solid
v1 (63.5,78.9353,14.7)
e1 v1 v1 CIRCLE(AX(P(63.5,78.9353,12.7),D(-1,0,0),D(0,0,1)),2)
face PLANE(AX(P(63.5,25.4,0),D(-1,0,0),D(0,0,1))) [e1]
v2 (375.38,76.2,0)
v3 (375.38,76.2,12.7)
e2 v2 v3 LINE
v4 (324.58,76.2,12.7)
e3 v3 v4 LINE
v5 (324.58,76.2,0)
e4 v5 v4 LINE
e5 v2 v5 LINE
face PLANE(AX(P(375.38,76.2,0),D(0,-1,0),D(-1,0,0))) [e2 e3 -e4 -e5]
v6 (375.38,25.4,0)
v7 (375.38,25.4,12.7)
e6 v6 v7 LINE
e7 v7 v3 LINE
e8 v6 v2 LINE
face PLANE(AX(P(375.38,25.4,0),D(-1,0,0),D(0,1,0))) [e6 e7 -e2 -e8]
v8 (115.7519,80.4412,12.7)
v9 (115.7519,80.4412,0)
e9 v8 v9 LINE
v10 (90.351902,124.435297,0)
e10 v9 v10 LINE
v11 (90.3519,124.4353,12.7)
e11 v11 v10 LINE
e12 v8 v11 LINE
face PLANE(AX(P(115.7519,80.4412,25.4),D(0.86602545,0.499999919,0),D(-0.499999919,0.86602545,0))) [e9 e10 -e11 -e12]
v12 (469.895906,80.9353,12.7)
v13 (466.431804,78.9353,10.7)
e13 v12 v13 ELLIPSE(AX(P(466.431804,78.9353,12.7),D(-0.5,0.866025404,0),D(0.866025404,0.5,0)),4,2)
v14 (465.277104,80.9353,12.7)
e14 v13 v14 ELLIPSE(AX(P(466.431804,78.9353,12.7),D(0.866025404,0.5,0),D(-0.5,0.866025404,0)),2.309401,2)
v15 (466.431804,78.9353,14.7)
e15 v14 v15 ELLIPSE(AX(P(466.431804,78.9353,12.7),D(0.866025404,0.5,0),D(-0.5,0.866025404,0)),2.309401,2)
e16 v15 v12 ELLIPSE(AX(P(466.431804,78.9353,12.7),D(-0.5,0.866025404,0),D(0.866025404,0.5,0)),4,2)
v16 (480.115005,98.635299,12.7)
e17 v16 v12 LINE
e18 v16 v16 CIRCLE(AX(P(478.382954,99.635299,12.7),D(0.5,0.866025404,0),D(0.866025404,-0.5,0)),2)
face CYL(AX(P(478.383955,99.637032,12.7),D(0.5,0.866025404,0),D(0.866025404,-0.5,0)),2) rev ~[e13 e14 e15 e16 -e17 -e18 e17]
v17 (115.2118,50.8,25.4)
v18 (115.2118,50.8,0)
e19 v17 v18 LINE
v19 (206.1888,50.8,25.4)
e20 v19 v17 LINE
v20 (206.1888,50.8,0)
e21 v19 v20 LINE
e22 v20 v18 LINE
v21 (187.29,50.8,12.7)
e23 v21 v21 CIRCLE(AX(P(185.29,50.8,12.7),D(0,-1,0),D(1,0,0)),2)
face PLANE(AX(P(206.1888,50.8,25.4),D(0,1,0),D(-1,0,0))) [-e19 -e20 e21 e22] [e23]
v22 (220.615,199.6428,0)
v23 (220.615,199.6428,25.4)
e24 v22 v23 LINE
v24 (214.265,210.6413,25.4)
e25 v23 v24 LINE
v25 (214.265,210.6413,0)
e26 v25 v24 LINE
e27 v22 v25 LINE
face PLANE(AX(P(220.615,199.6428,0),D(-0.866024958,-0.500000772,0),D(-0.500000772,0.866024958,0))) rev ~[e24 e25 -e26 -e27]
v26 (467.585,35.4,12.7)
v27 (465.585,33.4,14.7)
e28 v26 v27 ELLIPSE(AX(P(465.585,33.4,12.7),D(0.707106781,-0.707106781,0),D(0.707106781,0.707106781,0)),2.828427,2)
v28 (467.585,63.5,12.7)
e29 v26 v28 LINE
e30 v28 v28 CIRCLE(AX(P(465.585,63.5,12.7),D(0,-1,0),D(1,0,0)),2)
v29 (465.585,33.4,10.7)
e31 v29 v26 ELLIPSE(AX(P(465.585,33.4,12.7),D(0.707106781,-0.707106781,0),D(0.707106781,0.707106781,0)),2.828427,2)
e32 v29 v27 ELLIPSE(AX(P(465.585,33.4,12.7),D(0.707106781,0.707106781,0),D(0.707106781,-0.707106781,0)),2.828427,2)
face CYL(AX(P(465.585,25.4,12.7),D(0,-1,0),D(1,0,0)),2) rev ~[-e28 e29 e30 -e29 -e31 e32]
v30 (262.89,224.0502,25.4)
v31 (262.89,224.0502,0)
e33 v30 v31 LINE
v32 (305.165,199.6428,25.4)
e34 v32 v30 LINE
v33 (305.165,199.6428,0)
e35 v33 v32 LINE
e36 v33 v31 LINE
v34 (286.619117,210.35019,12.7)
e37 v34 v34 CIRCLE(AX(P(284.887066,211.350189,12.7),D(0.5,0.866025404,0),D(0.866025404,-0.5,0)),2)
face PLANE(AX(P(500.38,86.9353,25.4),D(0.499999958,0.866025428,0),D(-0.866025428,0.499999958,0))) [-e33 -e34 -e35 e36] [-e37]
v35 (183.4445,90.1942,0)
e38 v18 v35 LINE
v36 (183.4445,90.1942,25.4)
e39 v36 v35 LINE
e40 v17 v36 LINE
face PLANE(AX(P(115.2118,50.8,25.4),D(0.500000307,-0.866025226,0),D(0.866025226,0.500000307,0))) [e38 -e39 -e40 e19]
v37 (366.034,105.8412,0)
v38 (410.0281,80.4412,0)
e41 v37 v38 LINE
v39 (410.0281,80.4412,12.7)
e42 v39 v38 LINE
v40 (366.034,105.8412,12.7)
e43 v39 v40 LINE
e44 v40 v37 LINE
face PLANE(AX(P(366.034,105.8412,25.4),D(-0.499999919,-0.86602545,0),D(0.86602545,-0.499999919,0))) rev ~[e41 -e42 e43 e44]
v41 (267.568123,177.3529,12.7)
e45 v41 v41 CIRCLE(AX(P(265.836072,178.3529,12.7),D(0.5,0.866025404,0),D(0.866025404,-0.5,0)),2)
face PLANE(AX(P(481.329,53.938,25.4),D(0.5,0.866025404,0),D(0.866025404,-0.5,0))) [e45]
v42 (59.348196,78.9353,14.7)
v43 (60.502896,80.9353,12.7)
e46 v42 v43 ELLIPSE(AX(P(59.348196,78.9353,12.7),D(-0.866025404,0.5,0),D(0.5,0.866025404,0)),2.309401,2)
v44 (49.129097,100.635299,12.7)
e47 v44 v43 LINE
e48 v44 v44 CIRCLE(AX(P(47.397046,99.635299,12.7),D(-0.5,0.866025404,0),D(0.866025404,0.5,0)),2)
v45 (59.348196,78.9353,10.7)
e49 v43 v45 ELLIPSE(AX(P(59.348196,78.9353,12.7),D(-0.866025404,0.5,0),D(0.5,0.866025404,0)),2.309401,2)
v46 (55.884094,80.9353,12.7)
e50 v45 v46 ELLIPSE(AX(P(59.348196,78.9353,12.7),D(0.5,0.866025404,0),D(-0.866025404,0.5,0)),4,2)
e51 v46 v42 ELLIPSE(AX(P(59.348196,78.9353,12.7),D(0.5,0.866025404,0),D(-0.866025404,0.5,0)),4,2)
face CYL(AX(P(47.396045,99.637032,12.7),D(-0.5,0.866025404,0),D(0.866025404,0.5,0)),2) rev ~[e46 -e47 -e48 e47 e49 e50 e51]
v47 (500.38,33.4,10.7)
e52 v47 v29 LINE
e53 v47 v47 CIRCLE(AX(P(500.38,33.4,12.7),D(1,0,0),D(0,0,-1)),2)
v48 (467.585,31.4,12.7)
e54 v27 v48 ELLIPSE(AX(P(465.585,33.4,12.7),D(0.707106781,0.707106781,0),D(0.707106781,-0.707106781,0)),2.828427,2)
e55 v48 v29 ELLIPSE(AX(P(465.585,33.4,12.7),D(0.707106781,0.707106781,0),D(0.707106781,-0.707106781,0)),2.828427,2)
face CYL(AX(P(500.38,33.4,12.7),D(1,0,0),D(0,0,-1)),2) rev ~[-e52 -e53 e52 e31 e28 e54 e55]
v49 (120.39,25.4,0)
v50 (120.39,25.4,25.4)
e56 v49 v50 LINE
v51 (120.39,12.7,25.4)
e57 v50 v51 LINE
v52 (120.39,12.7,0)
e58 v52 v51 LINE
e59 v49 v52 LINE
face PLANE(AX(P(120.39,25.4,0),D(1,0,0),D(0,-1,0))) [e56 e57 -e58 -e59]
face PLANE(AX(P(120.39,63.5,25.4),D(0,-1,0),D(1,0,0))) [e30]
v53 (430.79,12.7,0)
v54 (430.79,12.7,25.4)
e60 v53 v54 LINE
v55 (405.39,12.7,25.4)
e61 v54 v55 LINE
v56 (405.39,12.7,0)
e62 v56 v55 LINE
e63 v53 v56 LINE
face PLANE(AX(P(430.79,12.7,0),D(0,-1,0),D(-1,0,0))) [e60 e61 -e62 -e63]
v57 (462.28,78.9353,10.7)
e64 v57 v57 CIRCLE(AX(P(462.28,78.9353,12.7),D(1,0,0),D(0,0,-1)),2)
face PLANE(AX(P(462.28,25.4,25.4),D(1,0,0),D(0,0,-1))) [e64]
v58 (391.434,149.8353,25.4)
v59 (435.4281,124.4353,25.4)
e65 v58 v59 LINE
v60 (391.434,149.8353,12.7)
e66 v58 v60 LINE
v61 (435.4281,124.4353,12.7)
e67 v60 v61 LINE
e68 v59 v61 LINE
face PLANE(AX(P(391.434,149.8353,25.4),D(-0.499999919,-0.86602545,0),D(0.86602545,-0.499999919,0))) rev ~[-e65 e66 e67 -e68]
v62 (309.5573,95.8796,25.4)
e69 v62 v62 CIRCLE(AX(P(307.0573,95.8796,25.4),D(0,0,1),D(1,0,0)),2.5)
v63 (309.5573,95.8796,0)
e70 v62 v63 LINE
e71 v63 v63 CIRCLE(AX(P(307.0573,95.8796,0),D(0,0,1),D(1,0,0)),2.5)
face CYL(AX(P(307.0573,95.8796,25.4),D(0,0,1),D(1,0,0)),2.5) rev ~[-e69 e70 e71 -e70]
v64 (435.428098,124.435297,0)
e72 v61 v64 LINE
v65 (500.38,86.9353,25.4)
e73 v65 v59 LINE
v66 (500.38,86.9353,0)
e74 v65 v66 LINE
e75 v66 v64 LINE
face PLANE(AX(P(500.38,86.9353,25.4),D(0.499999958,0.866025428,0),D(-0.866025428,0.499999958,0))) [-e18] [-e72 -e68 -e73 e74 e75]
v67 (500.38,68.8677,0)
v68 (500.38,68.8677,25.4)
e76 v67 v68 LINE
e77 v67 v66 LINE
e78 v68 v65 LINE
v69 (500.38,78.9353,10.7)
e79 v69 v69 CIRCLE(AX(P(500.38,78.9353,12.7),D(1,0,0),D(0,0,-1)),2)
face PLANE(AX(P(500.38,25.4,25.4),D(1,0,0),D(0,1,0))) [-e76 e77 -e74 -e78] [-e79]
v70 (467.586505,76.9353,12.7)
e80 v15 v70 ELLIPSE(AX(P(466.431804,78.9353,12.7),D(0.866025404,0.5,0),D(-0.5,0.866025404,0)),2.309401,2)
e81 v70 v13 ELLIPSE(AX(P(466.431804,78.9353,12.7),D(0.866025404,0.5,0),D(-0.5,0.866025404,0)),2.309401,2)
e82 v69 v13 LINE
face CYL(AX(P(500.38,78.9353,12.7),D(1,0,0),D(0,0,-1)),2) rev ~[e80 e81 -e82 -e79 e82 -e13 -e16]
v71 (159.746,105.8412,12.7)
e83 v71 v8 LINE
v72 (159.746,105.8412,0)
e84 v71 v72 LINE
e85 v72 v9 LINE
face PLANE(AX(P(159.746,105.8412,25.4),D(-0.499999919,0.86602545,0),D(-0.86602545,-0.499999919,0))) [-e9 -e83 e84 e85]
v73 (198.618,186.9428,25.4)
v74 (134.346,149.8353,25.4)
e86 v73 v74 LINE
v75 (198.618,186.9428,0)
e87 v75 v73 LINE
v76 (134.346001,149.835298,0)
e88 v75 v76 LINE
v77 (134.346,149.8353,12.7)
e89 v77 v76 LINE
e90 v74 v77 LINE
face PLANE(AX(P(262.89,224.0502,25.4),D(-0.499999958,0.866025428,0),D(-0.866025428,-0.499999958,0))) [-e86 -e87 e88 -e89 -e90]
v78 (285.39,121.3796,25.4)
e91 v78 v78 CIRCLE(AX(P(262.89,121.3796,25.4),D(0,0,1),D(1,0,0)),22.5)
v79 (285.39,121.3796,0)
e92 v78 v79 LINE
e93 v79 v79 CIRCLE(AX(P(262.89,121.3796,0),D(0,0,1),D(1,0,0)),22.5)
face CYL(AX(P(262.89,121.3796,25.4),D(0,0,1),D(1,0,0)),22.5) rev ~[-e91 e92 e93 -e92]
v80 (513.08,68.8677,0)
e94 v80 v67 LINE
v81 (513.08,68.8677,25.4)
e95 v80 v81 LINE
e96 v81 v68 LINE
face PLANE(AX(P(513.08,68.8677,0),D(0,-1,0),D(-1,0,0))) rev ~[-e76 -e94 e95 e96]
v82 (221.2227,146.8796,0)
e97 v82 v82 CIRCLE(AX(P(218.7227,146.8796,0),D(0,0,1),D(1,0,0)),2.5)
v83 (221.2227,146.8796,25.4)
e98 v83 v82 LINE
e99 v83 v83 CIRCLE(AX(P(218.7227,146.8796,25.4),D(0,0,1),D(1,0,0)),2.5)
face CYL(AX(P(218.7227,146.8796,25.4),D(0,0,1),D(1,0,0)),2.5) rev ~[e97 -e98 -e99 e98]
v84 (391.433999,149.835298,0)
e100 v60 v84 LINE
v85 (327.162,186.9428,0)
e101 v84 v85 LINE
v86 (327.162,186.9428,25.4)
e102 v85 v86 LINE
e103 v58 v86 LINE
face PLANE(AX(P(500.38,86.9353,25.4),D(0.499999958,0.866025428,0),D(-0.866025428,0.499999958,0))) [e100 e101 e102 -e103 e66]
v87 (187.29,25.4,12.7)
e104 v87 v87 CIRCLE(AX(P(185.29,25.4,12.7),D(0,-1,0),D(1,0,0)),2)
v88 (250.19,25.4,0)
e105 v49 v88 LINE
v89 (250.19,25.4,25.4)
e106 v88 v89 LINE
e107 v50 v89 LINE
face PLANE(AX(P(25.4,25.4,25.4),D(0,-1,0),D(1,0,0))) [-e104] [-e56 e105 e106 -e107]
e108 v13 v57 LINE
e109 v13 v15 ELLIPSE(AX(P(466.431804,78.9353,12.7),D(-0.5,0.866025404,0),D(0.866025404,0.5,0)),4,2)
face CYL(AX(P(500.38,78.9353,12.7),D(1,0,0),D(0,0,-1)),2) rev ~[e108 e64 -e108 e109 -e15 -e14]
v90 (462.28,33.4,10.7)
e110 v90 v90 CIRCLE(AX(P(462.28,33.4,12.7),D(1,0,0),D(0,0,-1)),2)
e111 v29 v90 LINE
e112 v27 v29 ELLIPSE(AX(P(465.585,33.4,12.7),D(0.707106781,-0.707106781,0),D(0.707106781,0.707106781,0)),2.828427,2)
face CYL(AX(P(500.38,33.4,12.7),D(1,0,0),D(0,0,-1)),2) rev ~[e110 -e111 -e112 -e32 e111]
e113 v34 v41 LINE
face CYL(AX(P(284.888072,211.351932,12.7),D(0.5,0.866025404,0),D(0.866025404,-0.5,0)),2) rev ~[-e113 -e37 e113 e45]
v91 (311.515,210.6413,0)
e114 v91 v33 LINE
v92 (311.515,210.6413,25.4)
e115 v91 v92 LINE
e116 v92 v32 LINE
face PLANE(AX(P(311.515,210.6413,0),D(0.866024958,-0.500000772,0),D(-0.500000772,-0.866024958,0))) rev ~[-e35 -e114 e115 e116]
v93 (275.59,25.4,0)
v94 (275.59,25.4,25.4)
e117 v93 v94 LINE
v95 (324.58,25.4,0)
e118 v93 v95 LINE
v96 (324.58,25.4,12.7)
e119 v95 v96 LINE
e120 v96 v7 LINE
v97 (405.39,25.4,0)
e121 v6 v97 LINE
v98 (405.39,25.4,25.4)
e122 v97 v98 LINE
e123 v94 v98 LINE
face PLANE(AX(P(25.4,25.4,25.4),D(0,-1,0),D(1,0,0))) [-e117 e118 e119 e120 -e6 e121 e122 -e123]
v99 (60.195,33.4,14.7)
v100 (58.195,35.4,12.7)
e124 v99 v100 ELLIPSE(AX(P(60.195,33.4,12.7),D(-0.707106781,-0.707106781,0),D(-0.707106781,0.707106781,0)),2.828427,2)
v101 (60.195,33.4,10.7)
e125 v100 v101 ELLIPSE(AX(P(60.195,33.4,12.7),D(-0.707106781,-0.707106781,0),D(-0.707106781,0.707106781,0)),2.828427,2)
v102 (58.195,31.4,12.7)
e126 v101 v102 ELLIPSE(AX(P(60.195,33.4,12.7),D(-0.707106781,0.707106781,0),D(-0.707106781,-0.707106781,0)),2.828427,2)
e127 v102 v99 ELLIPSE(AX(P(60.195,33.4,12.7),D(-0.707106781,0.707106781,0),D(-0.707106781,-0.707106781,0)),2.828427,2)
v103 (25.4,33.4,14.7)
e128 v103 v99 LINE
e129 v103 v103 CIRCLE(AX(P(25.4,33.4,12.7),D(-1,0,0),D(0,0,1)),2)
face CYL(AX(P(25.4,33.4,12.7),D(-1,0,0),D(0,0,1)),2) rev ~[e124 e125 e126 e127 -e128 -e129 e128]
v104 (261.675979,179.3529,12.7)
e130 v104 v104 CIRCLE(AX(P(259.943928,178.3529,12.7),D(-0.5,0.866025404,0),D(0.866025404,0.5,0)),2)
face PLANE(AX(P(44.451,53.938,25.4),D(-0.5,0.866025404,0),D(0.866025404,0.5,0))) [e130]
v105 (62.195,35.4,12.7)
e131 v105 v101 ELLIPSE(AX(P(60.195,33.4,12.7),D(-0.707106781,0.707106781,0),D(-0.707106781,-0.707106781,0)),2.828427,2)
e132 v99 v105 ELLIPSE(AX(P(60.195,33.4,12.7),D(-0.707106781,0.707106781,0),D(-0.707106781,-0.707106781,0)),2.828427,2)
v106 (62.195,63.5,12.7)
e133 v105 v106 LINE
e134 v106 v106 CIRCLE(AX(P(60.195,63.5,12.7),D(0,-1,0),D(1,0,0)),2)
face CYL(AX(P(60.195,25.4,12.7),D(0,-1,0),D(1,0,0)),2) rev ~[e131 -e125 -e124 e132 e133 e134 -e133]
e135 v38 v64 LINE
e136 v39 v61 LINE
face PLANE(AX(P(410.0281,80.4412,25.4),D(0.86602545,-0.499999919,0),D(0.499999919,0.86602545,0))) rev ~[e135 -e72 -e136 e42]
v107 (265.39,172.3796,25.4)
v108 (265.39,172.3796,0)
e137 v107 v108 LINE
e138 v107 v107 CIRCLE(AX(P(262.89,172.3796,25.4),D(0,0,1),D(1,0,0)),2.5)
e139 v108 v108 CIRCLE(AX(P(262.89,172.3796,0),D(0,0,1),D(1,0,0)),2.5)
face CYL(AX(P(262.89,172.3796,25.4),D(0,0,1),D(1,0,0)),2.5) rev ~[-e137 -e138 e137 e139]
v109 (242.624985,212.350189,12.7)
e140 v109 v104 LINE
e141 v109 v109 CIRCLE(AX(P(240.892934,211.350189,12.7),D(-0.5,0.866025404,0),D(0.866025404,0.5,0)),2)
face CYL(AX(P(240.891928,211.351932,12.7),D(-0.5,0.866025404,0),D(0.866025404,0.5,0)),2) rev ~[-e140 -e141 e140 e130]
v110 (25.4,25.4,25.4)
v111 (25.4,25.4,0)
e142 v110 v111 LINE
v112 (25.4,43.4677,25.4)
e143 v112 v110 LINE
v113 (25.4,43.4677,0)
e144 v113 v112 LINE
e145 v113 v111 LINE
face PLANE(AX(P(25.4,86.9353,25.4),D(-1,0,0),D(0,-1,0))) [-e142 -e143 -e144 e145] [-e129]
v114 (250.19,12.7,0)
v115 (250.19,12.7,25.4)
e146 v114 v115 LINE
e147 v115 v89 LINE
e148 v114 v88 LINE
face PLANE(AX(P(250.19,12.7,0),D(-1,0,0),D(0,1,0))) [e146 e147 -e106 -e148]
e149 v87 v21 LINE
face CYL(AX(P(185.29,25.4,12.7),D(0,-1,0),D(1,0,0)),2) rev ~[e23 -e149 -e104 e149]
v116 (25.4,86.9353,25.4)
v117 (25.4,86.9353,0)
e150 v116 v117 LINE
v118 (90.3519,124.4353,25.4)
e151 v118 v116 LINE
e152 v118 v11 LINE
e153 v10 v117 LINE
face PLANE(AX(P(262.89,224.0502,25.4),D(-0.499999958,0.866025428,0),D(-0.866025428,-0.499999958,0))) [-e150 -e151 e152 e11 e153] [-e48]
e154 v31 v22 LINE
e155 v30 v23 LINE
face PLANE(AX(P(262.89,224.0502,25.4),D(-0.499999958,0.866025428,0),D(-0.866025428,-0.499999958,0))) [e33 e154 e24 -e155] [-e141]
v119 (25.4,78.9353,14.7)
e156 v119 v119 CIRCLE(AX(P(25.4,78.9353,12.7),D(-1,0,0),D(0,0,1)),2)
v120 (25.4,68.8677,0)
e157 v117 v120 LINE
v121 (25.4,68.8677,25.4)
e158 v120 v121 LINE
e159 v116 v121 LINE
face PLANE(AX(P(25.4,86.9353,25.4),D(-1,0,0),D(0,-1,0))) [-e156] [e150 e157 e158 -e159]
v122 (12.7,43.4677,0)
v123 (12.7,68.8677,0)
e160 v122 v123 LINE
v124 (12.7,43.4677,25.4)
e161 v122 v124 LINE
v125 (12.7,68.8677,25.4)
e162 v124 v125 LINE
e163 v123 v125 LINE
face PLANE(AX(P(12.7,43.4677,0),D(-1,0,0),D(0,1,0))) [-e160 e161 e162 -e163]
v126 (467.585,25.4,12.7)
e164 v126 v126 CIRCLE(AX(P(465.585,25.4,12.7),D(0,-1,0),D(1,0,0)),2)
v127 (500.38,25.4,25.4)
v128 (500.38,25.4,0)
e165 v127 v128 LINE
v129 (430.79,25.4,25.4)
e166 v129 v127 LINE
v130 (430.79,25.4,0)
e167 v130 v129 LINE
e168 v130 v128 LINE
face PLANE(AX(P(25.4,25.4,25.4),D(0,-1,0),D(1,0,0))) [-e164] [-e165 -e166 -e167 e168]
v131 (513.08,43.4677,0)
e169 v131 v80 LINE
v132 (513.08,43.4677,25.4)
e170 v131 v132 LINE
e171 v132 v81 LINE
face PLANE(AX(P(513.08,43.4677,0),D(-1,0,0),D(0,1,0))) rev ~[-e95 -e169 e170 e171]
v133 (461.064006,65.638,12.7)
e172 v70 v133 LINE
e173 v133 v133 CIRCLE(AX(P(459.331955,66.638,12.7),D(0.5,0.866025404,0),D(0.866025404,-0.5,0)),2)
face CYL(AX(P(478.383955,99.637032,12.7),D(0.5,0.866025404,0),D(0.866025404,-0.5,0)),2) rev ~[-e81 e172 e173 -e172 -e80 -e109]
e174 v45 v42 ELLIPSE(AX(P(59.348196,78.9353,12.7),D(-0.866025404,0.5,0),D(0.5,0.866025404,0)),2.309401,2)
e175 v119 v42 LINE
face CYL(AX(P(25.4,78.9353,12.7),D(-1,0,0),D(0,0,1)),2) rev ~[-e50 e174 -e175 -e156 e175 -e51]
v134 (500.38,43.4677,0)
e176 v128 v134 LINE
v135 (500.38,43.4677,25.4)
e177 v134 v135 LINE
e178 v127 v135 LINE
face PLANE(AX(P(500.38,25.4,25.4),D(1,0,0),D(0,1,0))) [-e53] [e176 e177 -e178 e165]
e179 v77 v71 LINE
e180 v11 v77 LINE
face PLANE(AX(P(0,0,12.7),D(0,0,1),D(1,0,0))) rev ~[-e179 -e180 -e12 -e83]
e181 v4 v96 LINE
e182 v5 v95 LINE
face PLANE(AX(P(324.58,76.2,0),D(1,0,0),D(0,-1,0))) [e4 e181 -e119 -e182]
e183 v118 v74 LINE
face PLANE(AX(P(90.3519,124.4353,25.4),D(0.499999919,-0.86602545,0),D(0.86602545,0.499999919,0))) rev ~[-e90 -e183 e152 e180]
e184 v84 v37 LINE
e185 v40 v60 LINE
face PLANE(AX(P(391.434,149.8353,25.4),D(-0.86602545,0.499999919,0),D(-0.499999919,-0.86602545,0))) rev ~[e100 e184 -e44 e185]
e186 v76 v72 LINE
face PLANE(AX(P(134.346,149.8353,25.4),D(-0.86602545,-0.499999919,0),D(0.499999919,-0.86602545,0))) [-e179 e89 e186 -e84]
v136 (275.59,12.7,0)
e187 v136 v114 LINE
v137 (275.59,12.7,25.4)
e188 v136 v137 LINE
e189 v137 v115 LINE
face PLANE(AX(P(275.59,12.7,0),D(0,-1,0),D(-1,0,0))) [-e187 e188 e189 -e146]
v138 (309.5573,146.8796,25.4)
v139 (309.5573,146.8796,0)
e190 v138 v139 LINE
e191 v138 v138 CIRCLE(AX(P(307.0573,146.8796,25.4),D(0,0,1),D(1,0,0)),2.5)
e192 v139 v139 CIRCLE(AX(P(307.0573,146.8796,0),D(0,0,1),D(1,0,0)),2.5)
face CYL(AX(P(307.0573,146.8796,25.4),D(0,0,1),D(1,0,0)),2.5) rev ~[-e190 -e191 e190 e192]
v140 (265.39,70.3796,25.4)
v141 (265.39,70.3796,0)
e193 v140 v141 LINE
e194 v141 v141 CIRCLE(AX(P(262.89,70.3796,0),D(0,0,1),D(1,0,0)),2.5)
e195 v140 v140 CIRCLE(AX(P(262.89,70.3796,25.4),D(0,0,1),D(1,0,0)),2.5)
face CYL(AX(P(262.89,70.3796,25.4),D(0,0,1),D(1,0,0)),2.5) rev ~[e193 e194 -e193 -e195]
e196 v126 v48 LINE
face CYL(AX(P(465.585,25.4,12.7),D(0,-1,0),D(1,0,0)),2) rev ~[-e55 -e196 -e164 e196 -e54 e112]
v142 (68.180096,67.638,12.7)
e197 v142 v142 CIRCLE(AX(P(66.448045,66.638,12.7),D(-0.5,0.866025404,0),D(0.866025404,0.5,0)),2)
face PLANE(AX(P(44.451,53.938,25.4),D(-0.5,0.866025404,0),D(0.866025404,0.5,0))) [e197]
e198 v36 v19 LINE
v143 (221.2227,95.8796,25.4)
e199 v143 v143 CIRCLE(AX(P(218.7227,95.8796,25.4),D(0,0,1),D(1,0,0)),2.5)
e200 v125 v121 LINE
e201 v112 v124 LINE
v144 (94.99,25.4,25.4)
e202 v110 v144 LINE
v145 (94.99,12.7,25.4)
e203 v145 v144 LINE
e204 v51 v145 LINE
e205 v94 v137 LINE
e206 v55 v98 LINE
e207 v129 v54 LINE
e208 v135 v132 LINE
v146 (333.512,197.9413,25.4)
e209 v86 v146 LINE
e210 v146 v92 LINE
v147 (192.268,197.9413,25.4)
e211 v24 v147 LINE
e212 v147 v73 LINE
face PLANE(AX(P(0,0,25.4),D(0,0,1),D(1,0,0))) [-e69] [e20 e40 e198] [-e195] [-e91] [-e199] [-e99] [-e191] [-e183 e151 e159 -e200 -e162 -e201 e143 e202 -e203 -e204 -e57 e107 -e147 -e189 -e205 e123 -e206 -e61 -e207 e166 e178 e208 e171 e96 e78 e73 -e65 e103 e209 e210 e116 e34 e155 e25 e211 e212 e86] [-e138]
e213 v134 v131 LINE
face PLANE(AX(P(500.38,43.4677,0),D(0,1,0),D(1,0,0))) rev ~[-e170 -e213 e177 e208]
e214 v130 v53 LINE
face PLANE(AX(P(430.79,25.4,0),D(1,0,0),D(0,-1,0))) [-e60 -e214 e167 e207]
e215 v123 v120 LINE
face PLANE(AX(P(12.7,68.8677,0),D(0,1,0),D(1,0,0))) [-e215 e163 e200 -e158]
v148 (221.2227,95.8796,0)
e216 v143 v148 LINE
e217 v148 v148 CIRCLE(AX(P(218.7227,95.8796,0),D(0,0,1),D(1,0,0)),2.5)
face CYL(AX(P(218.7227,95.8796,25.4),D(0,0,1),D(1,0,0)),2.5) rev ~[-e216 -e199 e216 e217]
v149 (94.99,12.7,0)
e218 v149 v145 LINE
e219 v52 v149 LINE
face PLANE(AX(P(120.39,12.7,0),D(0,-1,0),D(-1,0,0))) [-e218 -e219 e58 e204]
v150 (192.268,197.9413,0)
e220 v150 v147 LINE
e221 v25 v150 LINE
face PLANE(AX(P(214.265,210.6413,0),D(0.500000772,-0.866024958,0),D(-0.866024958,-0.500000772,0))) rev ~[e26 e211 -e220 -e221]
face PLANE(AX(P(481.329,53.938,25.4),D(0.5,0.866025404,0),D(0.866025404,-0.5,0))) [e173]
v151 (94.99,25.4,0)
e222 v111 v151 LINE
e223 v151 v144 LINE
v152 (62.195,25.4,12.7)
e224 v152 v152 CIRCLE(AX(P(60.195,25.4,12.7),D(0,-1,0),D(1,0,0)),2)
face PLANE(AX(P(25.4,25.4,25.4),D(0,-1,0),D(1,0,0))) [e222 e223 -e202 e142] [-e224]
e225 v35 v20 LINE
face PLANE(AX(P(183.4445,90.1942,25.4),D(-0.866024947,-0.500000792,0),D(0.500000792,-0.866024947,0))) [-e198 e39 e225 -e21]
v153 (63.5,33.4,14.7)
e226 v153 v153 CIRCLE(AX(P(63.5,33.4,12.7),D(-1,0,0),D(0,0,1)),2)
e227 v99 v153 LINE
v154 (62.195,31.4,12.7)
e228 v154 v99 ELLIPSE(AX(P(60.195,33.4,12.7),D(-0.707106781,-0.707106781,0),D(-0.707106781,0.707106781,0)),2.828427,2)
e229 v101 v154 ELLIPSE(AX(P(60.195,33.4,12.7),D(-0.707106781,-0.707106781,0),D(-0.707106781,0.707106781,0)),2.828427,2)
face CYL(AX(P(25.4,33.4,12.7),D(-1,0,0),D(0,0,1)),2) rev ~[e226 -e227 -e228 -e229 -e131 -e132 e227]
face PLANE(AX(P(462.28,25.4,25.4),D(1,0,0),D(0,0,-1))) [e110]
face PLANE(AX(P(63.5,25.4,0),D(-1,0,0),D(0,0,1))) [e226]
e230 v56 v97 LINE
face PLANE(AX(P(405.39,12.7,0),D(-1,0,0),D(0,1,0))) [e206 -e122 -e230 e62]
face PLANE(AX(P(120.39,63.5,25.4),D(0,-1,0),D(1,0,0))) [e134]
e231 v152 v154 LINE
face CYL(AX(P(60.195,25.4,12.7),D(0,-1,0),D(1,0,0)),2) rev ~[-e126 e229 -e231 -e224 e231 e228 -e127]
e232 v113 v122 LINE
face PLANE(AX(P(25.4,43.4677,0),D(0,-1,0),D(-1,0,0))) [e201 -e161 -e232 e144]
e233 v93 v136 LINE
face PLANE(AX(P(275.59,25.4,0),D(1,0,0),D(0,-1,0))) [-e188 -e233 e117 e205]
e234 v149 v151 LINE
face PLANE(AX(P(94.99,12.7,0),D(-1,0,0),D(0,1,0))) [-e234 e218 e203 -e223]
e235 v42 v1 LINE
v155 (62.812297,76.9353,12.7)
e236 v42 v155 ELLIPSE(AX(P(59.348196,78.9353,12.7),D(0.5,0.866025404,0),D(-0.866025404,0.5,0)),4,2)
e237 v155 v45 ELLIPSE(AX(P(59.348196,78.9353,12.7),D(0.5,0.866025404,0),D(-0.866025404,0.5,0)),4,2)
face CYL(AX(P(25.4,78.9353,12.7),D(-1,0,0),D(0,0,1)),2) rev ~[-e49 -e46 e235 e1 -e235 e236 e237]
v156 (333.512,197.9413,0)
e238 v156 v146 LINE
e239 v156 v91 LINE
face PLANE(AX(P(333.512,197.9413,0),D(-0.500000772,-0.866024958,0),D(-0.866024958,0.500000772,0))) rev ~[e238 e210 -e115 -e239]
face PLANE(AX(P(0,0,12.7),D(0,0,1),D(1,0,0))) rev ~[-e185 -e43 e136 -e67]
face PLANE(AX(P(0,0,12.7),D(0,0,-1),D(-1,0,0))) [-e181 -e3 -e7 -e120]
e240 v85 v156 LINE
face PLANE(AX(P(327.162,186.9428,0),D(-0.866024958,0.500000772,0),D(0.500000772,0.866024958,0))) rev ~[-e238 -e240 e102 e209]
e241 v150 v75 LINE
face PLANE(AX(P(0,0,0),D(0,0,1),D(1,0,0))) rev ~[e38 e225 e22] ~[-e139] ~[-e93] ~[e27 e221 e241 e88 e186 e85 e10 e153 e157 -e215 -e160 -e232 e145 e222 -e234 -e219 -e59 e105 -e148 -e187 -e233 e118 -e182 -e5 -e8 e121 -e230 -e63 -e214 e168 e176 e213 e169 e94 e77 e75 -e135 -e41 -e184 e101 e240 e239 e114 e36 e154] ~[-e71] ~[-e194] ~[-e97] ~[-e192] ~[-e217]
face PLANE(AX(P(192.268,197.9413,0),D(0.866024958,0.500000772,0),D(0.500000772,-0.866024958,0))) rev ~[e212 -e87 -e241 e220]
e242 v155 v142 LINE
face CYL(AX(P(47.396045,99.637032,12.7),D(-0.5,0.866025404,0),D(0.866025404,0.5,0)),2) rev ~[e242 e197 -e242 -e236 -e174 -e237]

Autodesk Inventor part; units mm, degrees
ref_plane "YZ Plane" through (0, 0, 0) normal (1, 0, 0) x (0, 1, 0)
ref_plane "XZ Plane" through (0, 0, 0) normal (0, 1, 0) x (-1, 0, 0)
ref_plane "XY Plane" through (0, 0, 0) normal (0, 0, 1) x (1, 0, 0)
sketch "Sketch1" plane through (0, 0, 0) normal (0, 0, 1) x (1, 0, 0)
  line L0 (262.89, 253.3796) -> (525.78, 101.6)
  line L1 (525.78, 101.6) -> (525.78, -201.9592) construction
  line L2 (525.78, -201.9592) -> (262.89, -353.7388) construction
  line L3 (262.89, -353.7388) -> (0, -201.9592) construction
  line L4 (0, -201.9592) -> (0, 101.6) construction
  line L5 (0, 101.6) -> (262.89, 253.3796)
  line L6 (0, 101.6) -> (0, 0)
  line L7 (0, 0) -> (525.78, 0)
  line L8 (525.78, 0) -> (525.78, 101.6)
  point P0 (262.89, -50.1796)
  dimension "d0" = 525.78
  dimension "d1" = 101.6
extrude "Extrusion1" add sketch "Sketch1" along normal blind 25.4
sketch "Sketch2" plane through (0, 0, 25.4) normal (0, 0, 1) x (1, 0, 0)
  circle A0 centre (262.89, 121.3796) radius 22.5
  line L0 (0, 0) -> (525.78, 0) projected
  point P0 (262.89, 0)
  dimension "d4" = 121.3796
  dimension "d5" = 45
extrude "Extrusion2" cut sketch "Sketch2" against normal through all
sketch "Sketch3" plane through (0, 0, 25.4) normal (0, 0, 1) x (1, 0, 0)
  circle A0 centre (262.89, 121.3796) radius 22.5 projected
  line L0 (0, 101.6) -> (0, 0) projected
  line L1 (0, 0) -> (525.78, 0) projected
  line L2 (525.78, 0) -> (525.78, 101.6) projected
  line L3 (525.78, 101.6) -> (262.89, 253.3796) projected
  line L4 (262.89, 253.3796) -> (0, 101.6) projected
  line L5 (25.4, 86.9353) -> (25.4, 25.4)
  line L6 (25.4, 25.4) -> (500.38, 25.4)
  line L7 (500.38, 25.4) -> (500.38, 86.9353)
  line L8 (500.38, 86.9353) -> (262.89, 224.0502)
  line L9 (262.89, 224.0502) -> (25.4, 86.9353)
  dimension "d8" = 25.4
extrude "Extrusion3" cut sketch "Sketch3" against normal through all contours L4 L3 L2 L1 L0
sketch "Sketch4" plane through (0, 0, 25.4) normal (0, 0, 1) x (1, 0, 0)
  line L0 (134.346, 149.8353) -> (159.746, 105.8412)
  line L1 (159.746, 105.8412) -> (115.7519, 80.4412)
  line L2 (115.7519, 80.4412) -> (90.3519, 124.4353)
  line L3 (90.3519, 124.4353) -> (134.346, 149.8353)
  line L4 (134.346, 149.8353) -> (115.7519, 80.4412) construction
  line L5 (159.746, 105.8412) -> (90.3519, 124.4353) construction
  line L6 (262.89, 224.0502) -> (25.4, 86.9353) projected
  line L7 (500.38, 86.9353) -> (262.89, 224.0502) projected
  line L8 (262.89, 224.0502) -> (262.89, 25.4)
  line L9 (25.4, 25.4) -> (500.38, 25.4) projected
  line L10 (391.434, 149.8353) -> (366.034, 105.8412)
  line L11 (366.034, 105.8412) -> (410.0281, 80.4412)
  line L12 (410.0281, 80.4412) -> (435.4281, 124.4353)
  line L13 (435.4281, 124.4353) -> (391.434, 149.8353)
  line L14 (391.434, 149.8353) -> (410.0281, 80.4412) construction
  line L15 (366.034, 105.8412) -> (435.4281, 124.4353) construction
  point P0 (0, 0)
  point P1 (125.049, 115.1383)
  point P2 (400.731, 115.1383)
  point P3 (381.635, 155.4928)
  dimension "d11" = 50.8
  dimension "d12" = 50.8
  dimension "d15" = 75
extrude "Extrusion4" cut sketch "Sketch4" against normal through all
sketch "Sketch5" plane through (0, 0, 0) normal (0, 0, -1) x (-1, 0, 0)
  line L0 (-25.4, 86.9353) -> (-25.4, 25.4) projected
  line L1 (-25.4, 43.4677) -> (-12.7, 43.4677)
  line L2 (-12.7, 43.4677) -> (-12.7, 68.8677)
  line L3 (-12.7, 68.8677) -> (-25.4, 68.8677)
  line L4 (-25.4, 68.8677) -> (-25.4, 43.4677)
  line L5 (-25.4, 25.4) -> (-500.38, 25.4) projected
  line L6 (-94.99, 25.4) -> (-120.39, 25.4)
  line L7 (-120.39, 25.4) -> (-120.39, 12.7)
  line L8 (-120.39, 12.7) -> (-94.99, 12.7)
  line L9 (-94.99, 12.7) -> (-94.99, 25.4)
  line L10 (-405.39, 25.4) -> (-430.79, 25.4)
  line L11 (-430.79, 25.4) -> (-430.79, 12.7)
  line L12 (-430.79, 12.7) -> (-405.39, 12.7)
  line L13 (-405.39, 12.7) -> (-405.39, 25.4)
  line L14 (-500.38, 25.4) -> (-500.38, 86.9353) projected
  line L15 (-500.38, 43.4677) -> (-513.08, 43.4677)
  line L16 (-513.08, 43.4677) -> (-513.08, 68.8677)
  line L17 (-513.08, 68.8677) -> (-500.38, 68.8677)
  line L18 (-500.38, 68.8677) -> (-500.38, 43.4677)
  line L19 (-262.89, 224.0502) -> (-134.346, 149.8353) projected
  line L20 (-198.618, 186.9428) -> (-220.615, 199.6428)
  line L21 (-220.615, 199.6428) -> (-214.265, 210.6413)
  line L22 (-214.265, 210.6413) -> (-192.268, 197.9413)
  line L23 (-192.268, 197.9413) -> (-198.618, 186.9428)
  line L24 (-391.434, 149.8353) -> (-262.89, 224.0502) projected
  line L25 (-305.165, 199.6428) -> (-327.162, 186.9428)
  line L26 (-327.162, 186.9428) -> (-333.512, 197.9413)
  line L27 (-333.512, 197.9413) -> (-311.515, 210.6413)
  line L28 (-311.515, 210.6413) -> (-305.165, 199.6428)
  line L29 (-262.89, 224.0502) -> (-391.434, 149.8353) projected
  line L30 (-120.39, 19.05) -> (-405.39, 19.05) construction
  line L31 (-250.19, 25.4) -> (-275.59, 25.4)
  line L32 (-275.59, 25.4) -> (-275.59, 12.7)
  line L33 (-275.59, 12.7) -> (-250.19, 12.7)
  line L34 (-250.19, 12.7) -> (-250.19, 25.4)
  line L35 (-500.38, 25.4) -> (-25.4, 25.4) projected
  line L36 (-305.165, 199.6428) -> (-311.515, 210.6413)
  line L37 (-311.515, 210.6413) -> (-333.512, 197.9413)
  line L38 (-333.512, 197.9413) -> (-327.162, 186.9428)
  line L39 (-327.162, 186.9428) -> (-305.165, 199.6428)
  point P0 (0, 0)
  point P1 (-25.4, 56.1677)
  point P2 (-262.89, 25.4)
  point P3 (-262.89, 19.05)
  point P4 (-262.89, 25.4)
  dimension "d16" = 12.7
  dimension "d17" = 12.7
  dimension "d18" = 12.7
  dimension "d19" = 12.7
  dimension "d20" = 12.7
  dimension "d21" = 12.7
  dimension "d22" = 25.4
  dimension "d23" = 25.4
  dimension "d24" = 25.4
  dimension "d25" = 25.4
  dimension "d26" = 25.4
  dimension "d27" = 25.4
  dimension "d28" = 285
  dimension "d29" = 25.4
  dimension "d30" = 12.7
extrude "Extrusion5" add sketch "Sketch5" against normal blind 25.4
sketch "Sketch6" plane through (0, 0, 0) normal (0, 0, -1) x (-1, 0, 0)
  line L0 (-275.59, 25.4) -> (-405.39, 25.4) projected
  line L1 (-324.58, 25.4) -> (-375.38, 25.4)
  line L2 (-375.38, 25.4) -> (-375.38, 76.2)
  line L3 (-375.38, 76.2) -> (-324.58, 76.2)
  line L4 (-324.58, 76.2) -> (-324.58, 25.4)
  line L5 (-500.38, 43.4677) -> (-500.38, 25.4) projected
  point P0 (0, 0)
  dimension "d33" = 50.8
  dimension "d34" = 50.8
  dimension "d35" = 125
extrude "Extrusion6" cut sketch "Sketch6" against normal blind 12.7
sketch "Sketch7" plane through (0, 0, 25.4) normal (0, 0, 1) x (1, 0, 0)
  line L0 (115.2118, 50.8) -> (183.4445, 90.1942)
  line L1 (183.4445, 90.1942) -> (206.1888, 50.8)
  line L2 (206.1888, 50.8) -> (115.2118, 50.8)
  line L3 (159.746, 105.8412) -> (115.7519, 80.4412) projected
  line L4 (120.39, 25.4) -> (250.19, 25.4) projected
  line L5 (134.346, 149.8353) -> (159.746, 105.8412) projected
  point P0 (0, 0)
  dimension "d39" = 25.4
  dimension "d40" = 25.4
  dimension "d41" = 12.7
extrude "Extrusion7" cut sketch "Sketch7" against normal through all
sketch "Sketch8" plane through (0, 0, 25.4) normal (0, 0, 1) x (1, 0, 0)
  circle A0 centre (307.0573, 146.8796) radius 2.5
  circle A1 centre (262.89, 121.3796) radius 22.5 projected
  circle A2 centre (262.89, 172.3796) radius 2.5
  circle A3 centre (218.7227, 146.8796) radius 2.5
  circle A4 centre (218.7227, 95.8796) radius 2.5
  circle A5 centre (262.89, 70.3796) radius 2.5
  circle A6 centre (307.0573, 95.8796) radius 2.5
  point P0 (0, 0)
  dimension "d44" = 5
  dimension "d48" = 360
  dimension "d56" = 51
extrude "Extrusion8" cut sketch "Sketch8" against normal through all
sketch "Sketch10" plane through (0, 0, 25.4) normal (0, 0, 1) x (1, 0, 0)
  line L0 (115.7519, 80.4412) -> (90.3519, 124.4353) projected
  line L1 (366.034, 105.8412) -> (391.434, 149.8353) projected
  line L2 (410.0281, 80.4412) -> (435.4281, 124.4353) projected
  line L3 (391.434, 149.8353) -> (435.4281, 124.4353)
  line L4 (410.0281, 80.4412) -> (366.034, 105.8412) projected
  line L5 (134.346, 149.8353) -> (159.746, 105.8412) projected
  line L6 (159.746, 105.8412) -> (115.7519, 80.4412) projected
  line L7 (134.346, 149.8353) -> (198.618, 186.9428) projected
  line L8 (90.3519, 124.4353) -> (134.346, 149.8353)
  point P0 (0, 0)
extrude "Extrusion10" add sketch "Sketch10" against normal blind 12.7
sketch "Sketch11" plane through (500.38, 86.9353, 25.4) normal (0.5, 0.866, 0) x (0.866, -0.5, 0)
  circle A0 centre (-25.4, 12.7) radius 2
  circle A1 centre (-248.8298, 12.7) radius 2
  line L0 (-274.2298, 0) -> (-274.2298, 25.4) projected
  line L1 (0, 0) -> (0, 25.4) projected
  point P0 (-389.8741, 25.4)
  point P1 (-274.2298, 12.7)
  dimension "d57" = 4
  dimension "d58" = 4
  dimension "d59" = 25.4
  dimension "d60" = 25.4
extrude "Extrusion11" cut sketch "Sketch11" against normal blind 38.1
sketch "Sketch12" plane through (25.4, 86.9353, 25.4) normal (-0.5, 0.866, 0) x (0.866, 0.5, 0)
  circle A0 centre (248.8298, 12.7) radius 2
  circle A1 centre (25.4, 12.7) radius 2
  line L0 (0, 0) -> (0, 25.4) projected
  line L1 (274.2298, 0) -> (274.2298, 25.4) projected
  point P0 (-65.4647, 25.4)
  point P1 (0, 12.7)
  dimension "d63" = 4
  dimension "d64" = 4
  dimension "d65" = 25.4
  dimension "d66" = 25.4
extrude "Extrusion12" cut sketch "Sketch12" against normal blind 38.1
sketch "Sketch13" plane through (500.38, 25.4, 25.4) normal (1, 0, 0) x (0, 0, -1)
  circle A0 centre (12.7, 8) radius 2
  circle A1 centre (12.7, 53.5353) radius 2
  line L0 (0, 0) -> (25.4, 0) projected
  line L1 (0, 61.5353) -> (25.4, 61.5353) projected
  point P0 (25.4, -25.4)
  point P1 (12.7, 0)
  point P2 (12.7, 61.5353)
  dimension "d69" = 4
  dimension "d70" = 4
  dimension "d71" = 8
  dimension "d72" = 8
extrude "Extrusion13" cut sketch "Sketch13" against normal blind 38.1
sketch "Sketch14" plane through (25.4, 25.4, 0) normal (-1, 0, 0) x (0, 0, 1)
  circle A0 centre (12.7, 53.5353) radius 2 projected
  circle A1 centre (12.7, 8) radius 2 projected
  point P0 (0, -25.4)
extrude "Extrusion14" cut sketch "Sketch14" against normal blind 38.1
sketch "Sketch15" plane through (120.39, 25.4, 25.4) normal (0, -1, 0) x (1, 0, 0)
  circle A0 centre (-60.195, -12.7) radius 2
  circle A1 centre (64.9, -12.7) radius 2
  circle A2 centre (345.195, -12.7) radius 2
  line L0 (-94.99, 0) -> (-25.4, 0) projected
  line L1 (310.4, 0) -> (379.99, 0) projected
  line L2 (-94.99, 0) -> (-94.99, -25.4) projected
  line L3 (0, 0) -> (129.8, 0) projected
  point P0 (-120.39, -25.4)
  point P1 (-60.195, 0)
  point P2 (345.195, 0)
  point P3 (-94.99, -12.7)
  point P4 (64.9, 0)
  dimension "d77" = 4
  dimension "d78" = 4
  dimension "d79" = 4
extrude "Extrusion15" cut sketch "Sketch15" against normal blind 38.1
properties part number "HB04" material "Polyethylene, High Density"
